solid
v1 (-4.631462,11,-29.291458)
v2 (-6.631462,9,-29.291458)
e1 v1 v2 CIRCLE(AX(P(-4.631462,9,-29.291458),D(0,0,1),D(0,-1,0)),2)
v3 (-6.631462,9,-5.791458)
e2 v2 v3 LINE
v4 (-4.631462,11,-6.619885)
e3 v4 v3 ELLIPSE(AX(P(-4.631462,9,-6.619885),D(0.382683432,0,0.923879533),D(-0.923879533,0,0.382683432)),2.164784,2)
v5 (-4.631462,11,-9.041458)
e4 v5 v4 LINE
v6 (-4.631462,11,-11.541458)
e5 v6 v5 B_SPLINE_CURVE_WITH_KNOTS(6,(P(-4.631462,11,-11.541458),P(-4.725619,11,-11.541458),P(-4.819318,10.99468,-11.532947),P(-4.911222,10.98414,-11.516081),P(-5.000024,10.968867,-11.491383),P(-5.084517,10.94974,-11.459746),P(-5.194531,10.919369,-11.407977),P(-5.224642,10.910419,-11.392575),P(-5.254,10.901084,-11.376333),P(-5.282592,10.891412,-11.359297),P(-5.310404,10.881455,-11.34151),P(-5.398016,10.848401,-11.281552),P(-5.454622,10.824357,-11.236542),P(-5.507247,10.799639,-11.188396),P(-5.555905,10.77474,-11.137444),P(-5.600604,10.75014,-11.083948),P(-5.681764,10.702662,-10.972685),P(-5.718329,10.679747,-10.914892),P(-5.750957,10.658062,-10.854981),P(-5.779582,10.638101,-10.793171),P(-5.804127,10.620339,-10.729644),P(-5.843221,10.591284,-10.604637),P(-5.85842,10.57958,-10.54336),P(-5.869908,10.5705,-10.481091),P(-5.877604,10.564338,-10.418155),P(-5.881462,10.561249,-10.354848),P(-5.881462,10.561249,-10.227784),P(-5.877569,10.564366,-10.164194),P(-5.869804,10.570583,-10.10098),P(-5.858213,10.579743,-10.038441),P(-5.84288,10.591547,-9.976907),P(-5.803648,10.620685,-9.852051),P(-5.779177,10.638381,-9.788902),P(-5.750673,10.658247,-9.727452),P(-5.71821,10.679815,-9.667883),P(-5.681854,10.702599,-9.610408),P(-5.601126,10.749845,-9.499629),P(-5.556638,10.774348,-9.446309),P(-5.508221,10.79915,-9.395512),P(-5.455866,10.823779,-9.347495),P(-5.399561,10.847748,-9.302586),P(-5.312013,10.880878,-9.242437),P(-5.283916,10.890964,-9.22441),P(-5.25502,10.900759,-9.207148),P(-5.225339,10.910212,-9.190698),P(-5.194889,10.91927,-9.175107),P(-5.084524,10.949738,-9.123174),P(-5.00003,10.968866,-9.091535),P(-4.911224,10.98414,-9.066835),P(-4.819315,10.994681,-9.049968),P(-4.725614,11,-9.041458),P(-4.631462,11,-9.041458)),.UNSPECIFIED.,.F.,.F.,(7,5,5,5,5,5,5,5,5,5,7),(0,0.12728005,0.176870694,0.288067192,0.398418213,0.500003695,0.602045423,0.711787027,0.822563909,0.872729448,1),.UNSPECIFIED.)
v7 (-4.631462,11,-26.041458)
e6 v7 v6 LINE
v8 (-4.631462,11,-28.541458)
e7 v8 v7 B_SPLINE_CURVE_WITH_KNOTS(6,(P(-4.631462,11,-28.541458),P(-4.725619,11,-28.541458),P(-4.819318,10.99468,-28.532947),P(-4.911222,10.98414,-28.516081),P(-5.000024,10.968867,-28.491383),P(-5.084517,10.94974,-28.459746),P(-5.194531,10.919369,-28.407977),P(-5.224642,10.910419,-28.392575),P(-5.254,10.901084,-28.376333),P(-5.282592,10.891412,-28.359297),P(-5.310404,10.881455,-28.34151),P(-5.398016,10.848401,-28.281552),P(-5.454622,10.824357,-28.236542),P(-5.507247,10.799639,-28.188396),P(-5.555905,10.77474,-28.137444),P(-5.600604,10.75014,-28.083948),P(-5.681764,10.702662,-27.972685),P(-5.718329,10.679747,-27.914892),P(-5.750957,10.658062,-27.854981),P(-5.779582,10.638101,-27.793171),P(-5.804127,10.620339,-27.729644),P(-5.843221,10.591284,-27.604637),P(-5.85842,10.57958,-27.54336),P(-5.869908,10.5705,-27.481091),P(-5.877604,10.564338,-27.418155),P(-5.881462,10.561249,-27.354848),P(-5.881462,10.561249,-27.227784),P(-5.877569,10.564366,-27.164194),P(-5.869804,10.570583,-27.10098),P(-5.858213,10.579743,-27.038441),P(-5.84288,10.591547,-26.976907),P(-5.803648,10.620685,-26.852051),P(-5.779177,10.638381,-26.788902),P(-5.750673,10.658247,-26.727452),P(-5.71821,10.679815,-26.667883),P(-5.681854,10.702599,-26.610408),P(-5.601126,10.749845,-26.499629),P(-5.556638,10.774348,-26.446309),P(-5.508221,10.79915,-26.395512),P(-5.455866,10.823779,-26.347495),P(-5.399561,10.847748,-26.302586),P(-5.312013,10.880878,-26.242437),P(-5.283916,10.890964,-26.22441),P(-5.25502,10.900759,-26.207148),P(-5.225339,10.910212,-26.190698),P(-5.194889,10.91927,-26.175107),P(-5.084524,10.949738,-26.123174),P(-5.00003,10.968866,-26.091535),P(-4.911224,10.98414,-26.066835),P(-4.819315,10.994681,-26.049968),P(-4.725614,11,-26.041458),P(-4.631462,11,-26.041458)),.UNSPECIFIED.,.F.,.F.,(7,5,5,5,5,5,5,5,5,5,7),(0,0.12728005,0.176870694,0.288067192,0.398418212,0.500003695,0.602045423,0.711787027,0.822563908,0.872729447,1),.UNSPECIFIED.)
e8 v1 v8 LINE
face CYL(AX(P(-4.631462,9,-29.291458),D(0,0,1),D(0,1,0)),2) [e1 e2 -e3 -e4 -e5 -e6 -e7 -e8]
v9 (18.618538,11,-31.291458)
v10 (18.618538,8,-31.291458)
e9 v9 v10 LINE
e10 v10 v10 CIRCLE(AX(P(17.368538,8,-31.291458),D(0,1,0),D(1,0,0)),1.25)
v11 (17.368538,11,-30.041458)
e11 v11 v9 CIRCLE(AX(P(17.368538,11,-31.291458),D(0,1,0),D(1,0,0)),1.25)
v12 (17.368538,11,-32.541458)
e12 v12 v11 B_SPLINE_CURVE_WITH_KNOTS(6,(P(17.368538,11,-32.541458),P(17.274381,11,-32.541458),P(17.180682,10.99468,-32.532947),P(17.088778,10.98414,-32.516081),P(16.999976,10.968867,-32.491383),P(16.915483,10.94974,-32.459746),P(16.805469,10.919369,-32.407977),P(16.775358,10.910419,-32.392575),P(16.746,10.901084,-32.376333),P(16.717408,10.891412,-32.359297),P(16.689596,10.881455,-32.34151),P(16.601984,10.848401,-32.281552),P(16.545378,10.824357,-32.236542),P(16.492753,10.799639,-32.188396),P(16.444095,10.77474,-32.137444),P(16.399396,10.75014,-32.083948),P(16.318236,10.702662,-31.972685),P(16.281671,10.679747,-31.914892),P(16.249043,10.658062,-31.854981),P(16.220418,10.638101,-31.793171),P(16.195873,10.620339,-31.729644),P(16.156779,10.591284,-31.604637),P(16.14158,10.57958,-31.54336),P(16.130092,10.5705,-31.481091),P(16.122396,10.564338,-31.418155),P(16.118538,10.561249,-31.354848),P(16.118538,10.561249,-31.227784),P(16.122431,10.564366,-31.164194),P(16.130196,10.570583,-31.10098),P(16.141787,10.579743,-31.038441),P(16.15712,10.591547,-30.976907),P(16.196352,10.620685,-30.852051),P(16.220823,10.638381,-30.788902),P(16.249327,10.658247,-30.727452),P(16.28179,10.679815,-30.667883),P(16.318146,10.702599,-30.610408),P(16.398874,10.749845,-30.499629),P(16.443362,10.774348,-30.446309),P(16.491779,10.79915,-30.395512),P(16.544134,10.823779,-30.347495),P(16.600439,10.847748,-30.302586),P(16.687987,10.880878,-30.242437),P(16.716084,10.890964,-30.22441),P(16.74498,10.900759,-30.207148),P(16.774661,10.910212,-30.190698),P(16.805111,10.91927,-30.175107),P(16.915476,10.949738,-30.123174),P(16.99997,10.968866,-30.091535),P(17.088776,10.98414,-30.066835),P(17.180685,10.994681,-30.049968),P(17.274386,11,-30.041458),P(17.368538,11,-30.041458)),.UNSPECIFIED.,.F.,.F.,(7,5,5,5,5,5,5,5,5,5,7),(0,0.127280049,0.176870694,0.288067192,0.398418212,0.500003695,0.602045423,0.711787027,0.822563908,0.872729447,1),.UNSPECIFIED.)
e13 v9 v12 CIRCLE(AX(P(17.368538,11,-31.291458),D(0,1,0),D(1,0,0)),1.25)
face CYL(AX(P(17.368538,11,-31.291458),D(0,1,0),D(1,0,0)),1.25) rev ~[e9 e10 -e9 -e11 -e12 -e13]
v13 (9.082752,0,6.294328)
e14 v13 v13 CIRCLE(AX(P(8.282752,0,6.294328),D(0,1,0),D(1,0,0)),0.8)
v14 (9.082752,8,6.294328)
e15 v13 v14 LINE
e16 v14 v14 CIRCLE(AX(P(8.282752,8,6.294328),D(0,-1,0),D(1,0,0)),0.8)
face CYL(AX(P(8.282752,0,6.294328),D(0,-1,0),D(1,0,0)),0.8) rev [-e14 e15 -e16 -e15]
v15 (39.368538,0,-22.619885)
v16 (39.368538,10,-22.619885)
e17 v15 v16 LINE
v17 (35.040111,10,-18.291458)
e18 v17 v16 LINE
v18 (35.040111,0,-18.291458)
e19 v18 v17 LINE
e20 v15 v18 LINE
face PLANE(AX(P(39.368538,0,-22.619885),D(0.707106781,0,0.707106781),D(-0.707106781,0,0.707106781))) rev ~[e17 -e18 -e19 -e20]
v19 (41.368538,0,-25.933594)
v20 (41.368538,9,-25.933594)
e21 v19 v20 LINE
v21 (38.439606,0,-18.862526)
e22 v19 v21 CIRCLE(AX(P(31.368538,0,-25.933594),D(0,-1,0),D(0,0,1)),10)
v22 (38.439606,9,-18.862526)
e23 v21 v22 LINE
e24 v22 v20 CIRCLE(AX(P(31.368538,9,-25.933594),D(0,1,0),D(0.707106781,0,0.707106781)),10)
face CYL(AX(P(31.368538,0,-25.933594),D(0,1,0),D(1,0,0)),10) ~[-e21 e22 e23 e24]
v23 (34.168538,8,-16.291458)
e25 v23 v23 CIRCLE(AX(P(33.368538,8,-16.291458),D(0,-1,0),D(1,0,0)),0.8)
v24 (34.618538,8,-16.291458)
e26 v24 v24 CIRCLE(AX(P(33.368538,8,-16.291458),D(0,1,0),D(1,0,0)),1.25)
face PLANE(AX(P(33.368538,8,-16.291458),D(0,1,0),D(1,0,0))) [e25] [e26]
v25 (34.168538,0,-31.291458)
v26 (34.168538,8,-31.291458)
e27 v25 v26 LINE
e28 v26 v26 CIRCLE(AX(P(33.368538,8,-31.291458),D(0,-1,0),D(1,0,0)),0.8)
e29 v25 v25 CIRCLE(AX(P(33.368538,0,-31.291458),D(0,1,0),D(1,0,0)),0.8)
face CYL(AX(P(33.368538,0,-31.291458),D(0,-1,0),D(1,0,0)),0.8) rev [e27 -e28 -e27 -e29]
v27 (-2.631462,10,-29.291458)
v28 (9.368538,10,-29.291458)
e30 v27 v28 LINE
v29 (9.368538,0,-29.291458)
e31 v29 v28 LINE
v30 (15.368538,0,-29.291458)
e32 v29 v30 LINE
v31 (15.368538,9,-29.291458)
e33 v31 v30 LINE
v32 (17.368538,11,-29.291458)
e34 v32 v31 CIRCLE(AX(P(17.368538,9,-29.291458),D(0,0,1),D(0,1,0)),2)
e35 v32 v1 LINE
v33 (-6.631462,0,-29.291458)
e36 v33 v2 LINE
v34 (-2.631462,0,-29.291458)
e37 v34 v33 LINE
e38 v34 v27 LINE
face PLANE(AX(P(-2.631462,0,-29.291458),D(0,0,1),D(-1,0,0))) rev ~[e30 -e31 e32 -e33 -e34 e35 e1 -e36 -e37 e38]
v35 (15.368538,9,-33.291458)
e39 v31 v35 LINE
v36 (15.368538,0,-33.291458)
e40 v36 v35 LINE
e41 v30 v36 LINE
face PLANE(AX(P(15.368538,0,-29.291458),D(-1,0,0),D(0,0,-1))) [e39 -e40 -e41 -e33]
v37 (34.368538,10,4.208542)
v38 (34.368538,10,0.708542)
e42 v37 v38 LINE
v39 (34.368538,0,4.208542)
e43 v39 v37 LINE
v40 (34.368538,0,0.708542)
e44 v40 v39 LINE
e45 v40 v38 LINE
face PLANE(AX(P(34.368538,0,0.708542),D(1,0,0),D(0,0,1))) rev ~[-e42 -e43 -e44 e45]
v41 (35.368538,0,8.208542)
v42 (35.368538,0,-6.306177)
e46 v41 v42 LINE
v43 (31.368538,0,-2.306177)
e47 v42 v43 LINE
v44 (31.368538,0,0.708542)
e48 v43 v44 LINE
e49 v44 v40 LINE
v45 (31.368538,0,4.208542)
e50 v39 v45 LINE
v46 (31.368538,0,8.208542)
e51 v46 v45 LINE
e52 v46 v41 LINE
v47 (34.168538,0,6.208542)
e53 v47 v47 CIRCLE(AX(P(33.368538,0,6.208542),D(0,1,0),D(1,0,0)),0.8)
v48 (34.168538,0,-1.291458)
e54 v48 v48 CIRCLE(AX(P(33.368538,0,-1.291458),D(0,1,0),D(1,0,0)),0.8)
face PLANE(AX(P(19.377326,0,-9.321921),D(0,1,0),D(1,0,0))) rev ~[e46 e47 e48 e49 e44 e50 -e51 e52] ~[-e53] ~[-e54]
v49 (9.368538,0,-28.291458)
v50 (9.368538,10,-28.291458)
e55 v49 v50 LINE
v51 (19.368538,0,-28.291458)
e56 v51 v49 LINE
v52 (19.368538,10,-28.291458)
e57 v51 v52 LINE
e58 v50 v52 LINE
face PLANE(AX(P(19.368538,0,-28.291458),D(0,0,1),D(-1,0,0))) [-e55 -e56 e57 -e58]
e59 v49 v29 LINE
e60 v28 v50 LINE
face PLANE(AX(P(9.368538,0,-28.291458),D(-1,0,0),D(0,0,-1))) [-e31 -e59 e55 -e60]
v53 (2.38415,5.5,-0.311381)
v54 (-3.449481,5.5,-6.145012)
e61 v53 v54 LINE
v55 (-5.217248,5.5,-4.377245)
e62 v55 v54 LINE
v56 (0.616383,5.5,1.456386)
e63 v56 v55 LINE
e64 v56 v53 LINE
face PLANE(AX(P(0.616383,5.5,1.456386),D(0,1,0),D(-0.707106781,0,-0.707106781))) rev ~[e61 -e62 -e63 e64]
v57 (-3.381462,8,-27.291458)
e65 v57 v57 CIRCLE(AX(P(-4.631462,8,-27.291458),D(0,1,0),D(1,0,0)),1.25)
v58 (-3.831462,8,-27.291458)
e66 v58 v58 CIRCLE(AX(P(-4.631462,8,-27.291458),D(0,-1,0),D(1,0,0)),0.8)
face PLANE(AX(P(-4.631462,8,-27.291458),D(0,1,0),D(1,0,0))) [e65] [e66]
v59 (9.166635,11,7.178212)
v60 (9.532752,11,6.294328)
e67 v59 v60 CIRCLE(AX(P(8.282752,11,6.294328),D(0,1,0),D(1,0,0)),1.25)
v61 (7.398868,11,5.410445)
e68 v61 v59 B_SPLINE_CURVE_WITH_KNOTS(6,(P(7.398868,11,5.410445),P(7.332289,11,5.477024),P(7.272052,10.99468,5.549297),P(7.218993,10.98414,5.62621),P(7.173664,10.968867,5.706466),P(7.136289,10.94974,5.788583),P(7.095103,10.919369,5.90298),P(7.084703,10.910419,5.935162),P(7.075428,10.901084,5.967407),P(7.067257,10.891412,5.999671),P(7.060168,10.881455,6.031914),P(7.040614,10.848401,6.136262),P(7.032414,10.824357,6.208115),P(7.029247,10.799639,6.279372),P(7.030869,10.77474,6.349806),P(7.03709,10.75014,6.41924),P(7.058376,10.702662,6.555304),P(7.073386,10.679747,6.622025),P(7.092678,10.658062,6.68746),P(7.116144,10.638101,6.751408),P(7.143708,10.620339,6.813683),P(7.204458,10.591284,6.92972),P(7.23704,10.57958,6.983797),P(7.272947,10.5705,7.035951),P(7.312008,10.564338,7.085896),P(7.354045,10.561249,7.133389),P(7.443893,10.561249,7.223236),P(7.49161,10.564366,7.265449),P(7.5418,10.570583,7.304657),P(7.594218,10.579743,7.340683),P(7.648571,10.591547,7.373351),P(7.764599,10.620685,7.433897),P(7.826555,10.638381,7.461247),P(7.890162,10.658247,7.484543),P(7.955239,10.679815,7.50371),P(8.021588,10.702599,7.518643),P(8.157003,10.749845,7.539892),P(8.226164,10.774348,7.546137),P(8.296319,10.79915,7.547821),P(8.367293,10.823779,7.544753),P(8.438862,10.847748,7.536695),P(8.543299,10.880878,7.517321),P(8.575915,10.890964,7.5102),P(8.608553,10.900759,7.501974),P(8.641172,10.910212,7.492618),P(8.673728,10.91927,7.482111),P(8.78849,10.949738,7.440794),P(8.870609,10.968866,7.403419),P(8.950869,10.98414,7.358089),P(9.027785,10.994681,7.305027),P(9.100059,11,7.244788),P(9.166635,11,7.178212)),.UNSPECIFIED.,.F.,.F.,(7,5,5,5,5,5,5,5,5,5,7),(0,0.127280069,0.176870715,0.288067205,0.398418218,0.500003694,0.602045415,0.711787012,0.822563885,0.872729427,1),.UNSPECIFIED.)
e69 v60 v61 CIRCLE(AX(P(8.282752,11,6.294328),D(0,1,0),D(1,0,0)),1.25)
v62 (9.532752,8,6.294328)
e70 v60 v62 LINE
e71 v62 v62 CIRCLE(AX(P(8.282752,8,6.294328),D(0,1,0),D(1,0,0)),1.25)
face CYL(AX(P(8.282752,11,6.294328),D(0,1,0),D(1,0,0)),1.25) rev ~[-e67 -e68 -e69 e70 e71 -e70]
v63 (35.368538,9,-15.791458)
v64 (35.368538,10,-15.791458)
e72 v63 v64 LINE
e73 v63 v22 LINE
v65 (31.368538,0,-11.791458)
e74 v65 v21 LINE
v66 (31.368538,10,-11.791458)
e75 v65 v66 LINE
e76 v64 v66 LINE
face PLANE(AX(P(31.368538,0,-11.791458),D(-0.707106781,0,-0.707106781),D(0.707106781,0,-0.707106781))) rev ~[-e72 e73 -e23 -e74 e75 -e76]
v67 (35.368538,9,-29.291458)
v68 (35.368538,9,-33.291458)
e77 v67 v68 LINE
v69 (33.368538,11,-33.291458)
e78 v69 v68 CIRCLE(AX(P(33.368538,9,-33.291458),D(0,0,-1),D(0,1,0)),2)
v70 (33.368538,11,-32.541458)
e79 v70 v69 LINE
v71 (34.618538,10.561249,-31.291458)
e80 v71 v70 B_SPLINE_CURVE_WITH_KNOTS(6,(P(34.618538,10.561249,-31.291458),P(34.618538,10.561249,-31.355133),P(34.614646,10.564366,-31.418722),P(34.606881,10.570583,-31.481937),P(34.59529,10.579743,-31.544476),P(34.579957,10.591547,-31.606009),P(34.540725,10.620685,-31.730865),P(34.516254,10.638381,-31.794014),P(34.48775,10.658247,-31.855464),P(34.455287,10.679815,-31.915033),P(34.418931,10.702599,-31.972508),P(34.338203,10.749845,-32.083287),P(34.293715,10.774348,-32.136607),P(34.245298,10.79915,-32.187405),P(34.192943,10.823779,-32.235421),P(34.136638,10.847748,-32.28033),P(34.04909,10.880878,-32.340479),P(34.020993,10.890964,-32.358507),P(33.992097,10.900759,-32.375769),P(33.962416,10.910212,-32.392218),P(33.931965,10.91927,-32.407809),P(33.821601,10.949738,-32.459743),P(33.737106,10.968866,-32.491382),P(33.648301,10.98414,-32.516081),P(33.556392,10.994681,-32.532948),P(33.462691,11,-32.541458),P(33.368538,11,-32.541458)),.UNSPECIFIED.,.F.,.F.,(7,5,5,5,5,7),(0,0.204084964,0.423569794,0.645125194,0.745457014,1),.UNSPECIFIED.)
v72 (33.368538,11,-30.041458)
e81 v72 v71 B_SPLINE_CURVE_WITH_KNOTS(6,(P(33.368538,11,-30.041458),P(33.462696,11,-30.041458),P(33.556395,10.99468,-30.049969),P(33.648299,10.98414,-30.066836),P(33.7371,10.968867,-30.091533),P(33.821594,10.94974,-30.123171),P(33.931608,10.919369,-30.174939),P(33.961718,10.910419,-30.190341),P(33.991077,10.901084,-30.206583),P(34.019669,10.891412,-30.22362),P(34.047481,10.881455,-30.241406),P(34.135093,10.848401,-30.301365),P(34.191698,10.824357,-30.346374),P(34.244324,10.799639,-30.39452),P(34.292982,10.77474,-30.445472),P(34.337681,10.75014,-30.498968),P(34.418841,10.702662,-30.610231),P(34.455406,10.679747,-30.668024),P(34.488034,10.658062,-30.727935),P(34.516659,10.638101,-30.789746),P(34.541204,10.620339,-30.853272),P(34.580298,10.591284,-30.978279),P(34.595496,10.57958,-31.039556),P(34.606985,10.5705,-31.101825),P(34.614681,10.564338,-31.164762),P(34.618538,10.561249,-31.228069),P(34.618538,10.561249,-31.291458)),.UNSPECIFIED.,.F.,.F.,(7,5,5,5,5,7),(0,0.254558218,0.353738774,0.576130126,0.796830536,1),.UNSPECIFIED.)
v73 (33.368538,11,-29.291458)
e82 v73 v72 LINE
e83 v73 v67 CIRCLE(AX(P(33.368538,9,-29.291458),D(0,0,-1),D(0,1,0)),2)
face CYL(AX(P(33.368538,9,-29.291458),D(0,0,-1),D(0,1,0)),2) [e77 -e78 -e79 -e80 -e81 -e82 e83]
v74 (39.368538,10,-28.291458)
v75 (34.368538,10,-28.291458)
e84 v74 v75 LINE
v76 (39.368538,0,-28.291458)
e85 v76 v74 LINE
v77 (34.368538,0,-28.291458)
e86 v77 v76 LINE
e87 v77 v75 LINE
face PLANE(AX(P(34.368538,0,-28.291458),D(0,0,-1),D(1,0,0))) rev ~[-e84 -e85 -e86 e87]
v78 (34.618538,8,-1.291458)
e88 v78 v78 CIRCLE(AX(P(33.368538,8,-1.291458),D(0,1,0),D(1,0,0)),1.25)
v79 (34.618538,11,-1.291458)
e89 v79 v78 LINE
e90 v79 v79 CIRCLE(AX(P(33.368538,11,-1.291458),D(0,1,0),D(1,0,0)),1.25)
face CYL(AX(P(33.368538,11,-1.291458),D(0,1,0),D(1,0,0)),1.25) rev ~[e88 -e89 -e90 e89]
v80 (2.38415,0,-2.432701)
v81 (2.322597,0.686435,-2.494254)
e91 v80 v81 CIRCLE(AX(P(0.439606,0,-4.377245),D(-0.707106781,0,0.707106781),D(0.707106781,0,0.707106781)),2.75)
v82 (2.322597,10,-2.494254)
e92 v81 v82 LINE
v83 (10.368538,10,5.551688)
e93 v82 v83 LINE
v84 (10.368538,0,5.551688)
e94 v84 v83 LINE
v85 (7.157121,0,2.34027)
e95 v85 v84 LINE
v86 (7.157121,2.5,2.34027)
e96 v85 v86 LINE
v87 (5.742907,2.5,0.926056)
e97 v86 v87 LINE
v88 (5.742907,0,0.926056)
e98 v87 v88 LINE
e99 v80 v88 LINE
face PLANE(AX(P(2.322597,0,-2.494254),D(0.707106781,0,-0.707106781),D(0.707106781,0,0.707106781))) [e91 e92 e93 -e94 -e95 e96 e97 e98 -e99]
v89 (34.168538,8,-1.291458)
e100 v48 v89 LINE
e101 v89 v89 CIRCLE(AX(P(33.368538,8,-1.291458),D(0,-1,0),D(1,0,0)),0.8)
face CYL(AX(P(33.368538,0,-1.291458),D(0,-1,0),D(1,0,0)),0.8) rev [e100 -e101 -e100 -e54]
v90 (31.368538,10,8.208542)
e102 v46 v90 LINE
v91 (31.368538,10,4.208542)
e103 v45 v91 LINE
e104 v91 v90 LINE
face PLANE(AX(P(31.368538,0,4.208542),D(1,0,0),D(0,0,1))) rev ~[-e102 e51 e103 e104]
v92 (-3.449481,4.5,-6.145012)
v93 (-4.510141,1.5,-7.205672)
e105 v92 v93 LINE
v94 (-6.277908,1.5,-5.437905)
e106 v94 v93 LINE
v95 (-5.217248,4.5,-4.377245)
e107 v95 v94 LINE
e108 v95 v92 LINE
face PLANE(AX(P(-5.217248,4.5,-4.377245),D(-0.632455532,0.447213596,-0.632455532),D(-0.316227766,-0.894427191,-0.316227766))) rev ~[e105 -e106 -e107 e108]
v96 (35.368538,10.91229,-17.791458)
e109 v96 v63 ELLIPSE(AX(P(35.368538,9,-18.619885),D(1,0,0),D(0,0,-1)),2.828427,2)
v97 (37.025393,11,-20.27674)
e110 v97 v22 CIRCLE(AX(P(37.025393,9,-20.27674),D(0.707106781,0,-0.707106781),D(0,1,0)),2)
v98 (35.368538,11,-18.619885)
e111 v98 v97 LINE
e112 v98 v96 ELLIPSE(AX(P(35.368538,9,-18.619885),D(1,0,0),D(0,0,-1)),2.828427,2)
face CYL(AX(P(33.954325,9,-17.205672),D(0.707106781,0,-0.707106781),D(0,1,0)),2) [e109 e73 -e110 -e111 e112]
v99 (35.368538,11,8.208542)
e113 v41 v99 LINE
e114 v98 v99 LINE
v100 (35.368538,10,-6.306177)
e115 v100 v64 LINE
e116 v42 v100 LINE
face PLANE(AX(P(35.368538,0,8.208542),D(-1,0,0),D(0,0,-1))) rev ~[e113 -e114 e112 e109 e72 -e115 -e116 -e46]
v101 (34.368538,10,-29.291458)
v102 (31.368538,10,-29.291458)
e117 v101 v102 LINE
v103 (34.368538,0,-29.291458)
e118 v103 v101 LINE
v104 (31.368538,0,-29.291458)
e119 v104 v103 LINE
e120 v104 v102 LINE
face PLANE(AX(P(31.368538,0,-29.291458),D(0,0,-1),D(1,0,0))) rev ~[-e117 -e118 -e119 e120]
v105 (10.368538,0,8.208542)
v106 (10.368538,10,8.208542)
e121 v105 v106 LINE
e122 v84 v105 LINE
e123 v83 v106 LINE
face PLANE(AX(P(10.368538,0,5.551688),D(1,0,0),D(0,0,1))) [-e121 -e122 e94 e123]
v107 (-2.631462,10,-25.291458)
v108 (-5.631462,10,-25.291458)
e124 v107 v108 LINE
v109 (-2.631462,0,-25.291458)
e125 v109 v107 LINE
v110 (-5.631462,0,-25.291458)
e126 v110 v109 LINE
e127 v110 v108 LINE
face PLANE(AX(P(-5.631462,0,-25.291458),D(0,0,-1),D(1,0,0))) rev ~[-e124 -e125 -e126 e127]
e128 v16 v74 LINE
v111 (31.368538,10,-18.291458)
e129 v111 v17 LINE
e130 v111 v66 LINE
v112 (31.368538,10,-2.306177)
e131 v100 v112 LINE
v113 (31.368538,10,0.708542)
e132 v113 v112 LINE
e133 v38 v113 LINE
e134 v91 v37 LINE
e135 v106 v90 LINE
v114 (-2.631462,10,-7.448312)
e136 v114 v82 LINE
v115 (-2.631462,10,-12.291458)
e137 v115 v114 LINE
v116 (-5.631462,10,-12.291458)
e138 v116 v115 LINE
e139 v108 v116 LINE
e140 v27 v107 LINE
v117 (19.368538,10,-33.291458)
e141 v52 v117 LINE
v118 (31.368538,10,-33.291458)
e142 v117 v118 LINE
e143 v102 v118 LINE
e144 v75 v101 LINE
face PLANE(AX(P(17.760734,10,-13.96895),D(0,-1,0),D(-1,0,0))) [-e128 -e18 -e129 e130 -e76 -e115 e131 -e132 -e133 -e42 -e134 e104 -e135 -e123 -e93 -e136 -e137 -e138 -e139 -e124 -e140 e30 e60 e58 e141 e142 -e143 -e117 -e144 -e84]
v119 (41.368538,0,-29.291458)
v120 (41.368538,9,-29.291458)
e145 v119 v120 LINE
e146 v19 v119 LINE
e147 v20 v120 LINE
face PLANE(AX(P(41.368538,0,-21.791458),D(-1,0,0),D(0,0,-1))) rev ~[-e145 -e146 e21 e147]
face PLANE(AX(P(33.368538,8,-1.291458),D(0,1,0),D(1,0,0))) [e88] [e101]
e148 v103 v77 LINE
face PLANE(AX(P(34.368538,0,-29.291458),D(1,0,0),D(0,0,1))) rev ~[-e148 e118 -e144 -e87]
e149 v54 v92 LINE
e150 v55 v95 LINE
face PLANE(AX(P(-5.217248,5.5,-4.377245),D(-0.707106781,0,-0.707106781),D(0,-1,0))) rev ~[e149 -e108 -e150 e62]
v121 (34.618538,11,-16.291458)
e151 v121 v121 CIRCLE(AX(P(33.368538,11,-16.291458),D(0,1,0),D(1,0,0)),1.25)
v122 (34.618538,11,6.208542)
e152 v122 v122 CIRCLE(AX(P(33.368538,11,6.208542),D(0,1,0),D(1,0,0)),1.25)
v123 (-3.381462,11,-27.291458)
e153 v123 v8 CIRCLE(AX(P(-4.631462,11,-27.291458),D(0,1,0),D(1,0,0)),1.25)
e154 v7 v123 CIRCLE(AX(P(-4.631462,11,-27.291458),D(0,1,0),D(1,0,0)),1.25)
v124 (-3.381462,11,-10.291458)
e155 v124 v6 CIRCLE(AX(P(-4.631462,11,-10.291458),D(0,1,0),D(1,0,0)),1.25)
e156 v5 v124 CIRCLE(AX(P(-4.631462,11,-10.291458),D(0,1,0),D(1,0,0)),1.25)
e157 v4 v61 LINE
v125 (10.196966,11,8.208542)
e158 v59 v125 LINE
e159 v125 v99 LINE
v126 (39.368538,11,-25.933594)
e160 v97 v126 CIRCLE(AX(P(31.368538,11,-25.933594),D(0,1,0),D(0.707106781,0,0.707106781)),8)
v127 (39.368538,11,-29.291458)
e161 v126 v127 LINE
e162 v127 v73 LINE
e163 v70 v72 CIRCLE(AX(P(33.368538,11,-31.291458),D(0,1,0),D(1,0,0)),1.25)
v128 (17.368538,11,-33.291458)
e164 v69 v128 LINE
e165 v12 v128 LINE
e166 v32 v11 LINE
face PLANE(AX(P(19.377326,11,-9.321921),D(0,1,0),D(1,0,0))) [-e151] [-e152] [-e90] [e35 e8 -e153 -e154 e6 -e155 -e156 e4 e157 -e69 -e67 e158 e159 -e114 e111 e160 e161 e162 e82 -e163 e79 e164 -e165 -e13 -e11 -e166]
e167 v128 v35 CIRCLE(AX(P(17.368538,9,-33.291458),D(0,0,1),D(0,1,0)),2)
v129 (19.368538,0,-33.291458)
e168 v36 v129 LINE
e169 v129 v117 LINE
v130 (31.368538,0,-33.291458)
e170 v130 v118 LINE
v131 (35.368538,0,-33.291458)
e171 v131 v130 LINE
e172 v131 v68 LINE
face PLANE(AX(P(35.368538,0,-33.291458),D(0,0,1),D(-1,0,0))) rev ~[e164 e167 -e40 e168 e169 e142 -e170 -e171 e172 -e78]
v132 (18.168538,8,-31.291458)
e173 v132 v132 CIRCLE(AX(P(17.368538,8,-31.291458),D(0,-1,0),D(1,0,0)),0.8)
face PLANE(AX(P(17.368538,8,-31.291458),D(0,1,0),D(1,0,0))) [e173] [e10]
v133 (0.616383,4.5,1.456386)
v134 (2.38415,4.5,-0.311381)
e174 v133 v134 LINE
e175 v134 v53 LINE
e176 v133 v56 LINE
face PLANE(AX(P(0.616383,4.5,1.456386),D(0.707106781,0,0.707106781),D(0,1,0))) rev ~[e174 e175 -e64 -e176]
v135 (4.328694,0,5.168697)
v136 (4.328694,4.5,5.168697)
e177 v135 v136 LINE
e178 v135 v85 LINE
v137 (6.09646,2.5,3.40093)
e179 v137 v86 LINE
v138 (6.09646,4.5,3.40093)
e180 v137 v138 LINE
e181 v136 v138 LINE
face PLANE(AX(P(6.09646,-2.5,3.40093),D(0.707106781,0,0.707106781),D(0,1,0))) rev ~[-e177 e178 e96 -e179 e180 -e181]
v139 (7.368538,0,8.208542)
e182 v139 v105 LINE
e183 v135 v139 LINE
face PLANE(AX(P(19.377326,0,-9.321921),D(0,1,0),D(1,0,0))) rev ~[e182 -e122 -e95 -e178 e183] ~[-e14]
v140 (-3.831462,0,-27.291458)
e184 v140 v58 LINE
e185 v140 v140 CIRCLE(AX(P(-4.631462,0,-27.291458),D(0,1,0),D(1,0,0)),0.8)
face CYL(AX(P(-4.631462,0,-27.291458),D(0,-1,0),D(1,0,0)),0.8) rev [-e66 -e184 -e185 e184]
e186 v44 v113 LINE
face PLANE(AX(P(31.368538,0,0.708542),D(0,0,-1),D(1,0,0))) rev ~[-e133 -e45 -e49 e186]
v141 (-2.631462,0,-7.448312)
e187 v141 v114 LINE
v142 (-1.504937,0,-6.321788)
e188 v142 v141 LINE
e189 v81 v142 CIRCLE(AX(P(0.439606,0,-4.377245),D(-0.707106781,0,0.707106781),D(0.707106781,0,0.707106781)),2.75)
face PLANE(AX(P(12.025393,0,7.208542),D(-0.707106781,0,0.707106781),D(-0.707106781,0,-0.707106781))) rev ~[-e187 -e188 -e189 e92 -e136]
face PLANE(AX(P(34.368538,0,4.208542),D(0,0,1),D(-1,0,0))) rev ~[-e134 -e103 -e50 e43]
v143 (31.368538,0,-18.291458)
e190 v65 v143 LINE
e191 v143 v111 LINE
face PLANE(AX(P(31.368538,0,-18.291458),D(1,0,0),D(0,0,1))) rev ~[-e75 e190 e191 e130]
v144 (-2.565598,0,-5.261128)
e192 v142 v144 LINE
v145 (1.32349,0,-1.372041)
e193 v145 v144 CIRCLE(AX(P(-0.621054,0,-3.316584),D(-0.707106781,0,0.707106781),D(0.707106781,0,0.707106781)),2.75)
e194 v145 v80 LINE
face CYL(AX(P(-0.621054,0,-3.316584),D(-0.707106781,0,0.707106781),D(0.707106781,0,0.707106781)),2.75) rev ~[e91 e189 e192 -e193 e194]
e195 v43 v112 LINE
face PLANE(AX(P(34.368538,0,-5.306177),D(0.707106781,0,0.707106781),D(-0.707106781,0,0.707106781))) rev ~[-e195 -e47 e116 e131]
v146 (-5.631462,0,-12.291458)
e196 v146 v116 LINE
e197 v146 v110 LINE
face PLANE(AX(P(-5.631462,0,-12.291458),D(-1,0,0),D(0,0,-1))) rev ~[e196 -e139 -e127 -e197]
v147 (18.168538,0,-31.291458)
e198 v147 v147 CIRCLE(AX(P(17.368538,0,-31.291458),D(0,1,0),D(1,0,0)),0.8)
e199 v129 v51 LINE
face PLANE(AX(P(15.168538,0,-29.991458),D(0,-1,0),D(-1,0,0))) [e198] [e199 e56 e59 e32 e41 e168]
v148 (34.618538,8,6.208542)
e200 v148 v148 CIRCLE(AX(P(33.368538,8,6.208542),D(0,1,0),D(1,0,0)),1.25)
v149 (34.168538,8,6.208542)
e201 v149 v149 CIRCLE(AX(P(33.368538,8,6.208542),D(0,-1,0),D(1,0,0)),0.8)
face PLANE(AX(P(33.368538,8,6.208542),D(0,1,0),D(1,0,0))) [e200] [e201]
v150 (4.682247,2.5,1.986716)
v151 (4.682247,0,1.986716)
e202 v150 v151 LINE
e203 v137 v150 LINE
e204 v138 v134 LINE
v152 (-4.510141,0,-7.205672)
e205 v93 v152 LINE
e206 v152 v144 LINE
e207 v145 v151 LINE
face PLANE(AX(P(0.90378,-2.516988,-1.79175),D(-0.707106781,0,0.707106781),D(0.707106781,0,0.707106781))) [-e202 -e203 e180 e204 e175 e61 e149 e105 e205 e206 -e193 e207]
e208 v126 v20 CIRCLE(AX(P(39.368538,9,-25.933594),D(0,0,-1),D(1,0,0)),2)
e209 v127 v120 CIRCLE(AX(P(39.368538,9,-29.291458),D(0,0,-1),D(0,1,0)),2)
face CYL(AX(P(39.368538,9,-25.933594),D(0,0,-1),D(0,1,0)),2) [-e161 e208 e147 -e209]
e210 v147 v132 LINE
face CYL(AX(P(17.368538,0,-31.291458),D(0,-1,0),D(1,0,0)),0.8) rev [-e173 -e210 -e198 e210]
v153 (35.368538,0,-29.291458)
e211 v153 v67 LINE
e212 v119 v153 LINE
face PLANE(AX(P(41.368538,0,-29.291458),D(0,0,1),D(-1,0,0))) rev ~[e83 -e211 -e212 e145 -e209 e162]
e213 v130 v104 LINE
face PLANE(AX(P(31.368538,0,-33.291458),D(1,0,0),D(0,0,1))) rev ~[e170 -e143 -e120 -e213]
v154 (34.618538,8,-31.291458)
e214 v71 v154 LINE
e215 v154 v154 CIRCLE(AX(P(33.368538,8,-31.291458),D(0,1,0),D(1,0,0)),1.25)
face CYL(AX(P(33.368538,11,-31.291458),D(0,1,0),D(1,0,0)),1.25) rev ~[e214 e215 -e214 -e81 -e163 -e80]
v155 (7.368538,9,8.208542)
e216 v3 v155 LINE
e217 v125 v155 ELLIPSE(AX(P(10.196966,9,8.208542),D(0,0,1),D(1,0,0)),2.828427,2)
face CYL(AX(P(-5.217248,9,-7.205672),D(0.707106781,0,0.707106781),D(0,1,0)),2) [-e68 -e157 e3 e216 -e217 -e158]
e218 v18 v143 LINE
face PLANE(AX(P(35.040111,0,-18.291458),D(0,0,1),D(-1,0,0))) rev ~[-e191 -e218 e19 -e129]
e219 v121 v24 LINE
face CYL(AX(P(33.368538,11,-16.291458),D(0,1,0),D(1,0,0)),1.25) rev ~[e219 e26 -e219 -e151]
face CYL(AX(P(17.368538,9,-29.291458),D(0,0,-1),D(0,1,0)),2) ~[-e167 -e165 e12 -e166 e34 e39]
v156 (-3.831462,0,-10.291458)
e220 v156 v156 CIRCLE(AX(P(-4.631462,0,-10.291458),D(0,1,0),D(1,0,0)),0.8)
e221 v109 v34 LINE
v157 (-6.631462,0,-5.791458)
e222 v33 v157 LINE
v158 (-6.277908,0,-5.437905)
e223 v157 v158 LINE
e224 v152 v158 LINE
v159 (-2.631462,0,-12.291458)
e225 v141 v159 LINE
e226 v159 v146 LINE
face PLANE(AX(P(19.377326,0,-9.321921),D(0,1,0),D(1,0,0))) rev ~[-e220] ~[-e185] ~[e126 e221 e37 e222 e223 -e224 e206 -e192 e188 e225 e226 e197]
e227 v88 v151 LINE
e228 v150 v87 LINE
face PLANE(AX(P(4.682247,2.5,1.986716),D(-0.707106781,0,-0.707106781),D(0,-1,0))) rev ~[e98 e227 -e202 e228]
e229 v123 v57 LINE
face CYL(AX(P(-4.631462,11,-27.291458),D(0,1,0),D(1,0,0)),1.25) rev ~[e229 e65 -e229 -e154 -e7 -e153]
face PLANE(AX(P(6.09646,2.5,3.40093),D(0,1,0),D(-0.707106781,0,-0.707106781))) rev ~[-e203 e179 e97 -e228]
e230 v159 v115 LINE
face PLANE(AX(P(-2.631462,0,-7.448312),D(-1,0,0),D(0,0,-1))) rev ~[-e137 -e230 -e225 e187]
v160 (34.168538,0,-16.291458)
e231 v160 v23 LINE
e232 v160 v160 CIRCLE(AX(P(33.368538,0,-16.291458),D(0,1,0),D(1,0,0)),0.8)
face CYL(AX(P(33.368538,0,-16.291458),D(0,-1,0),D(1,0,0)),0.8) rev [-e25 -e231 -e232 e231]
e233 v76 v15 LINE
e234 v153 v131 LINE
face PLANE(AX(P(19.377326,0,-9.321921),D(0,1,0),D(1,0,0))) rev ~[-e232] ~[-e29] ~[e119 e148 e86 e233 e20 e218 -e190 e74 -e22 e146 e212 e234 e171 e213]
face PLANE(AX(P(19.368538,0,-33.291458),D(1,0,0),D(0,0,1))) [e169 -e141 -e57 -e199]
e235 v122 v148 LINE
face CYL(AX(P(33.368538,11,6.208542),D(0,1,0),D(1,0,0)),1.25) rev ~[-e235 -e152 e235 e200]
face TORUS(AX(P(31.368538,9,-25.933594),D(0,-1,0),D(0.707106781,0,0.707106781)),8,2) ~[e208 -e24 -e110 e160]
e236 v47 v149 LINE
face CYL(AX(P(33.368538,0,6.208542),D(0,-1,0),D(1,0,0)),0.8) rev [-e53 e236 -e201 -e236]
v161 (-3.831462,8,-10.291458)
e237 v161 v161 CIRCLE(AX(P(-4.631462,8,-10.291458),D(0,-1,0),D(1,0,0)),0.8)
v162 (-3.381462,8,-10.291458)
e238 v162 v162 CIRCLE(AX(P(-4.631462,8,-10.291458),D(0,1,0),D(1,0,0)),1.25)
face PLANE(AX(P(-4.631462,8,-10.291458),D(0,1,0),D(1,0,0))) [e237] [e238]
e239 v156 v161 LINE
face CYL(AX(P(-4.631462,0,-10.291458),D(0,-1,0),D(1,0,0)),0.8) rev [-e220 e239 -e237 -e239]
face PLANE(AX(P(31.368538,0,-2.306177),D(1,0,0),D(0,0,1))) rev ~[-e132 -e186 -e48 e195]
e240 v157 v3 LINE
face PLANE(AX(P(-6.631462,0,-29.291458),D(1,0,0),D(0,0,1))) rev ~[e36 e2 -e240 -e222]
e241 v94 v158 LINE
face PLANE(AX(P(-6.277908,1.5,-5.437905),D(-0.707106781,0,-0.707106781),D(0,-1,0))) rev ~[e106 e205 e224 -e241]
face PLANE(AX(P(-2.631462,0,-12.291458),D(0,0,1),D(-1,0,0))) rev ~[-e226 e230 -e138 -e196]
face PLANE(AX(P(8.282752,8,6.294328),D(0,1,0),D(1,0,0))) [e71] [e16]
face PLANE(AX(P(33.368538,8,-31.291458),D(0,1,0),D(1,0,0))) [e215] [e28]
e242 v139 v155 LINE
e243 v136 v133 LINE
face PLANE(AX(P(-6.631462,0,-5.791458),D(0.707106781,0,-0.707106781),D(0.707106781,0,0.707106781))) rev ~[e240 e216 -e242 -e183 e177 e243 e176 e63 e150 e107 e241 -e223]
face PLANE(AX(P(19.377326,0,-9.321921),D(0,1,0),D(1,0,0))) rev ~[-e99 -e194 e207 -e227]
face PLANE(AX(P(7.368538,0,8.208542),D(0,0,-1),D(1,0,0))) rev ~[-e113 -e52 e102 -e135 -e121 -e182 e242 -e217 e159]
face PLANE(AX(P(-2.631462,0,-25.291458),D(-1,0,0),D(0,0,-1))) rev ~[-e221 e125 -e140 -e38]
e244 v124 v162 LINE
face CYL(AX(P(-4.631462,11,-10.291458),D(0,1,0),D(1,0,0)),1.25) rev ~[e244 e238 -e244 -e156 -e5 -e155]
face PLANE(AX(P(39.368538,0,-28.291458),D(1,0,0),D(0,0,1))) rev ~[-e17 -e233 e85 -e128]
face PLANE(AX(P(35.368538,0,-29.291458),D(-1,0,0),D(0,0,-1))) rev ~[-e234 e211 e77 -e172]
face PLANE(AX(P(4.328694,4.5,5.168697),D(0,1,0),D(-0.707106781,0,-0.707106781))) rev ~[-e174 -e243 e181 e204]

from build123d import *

# Parameters (mm, degrees)
BOSS_EXTRUDE2_DEPTH   = 11
BOSS_EXTRUDE2_2_DEPTH = 11
BOSS_EXTRUDE3_START   = 11
BOSS_EXTRUDE3_DEPTH   = 1
FILLET2_R             = 10
FILLET1_R             = 2
BOSS_EXTRUDE4_DEPTH   = 11
TUBE_HOLES_DEPTH      = 10
POT_INSERT_DEPTH      = 2.5
POT_START             = -2.5
SKETCH13_R            = 2.75
POT_HOLE_DEPTH        = 1.5
SKETCH7_R             = 0.8
SCREW_HOLES_DEPTH     = 12
SCREW_START           = 11
SKETCH12_R            = 1.25
SCREW_HEADS_DEPTH     = 3


with BuildPart() as part:
    # Sketch3 → Boss-Extrude2 (new body)
    with BuildSketch(Plane(origin=(0, 0, 0), x_dir=(1, 0, 0), z_dir=(0, 1, 0))):
        Polygon((-2.631461599, 29.291458176), (-6.631461599, 29.291458176), (-6.631461599, 5.791458176), (7.368538401, -8.208541824), (35.368538401, -8.208541824), (35.368538401, 15.791458176), (41.368538401, 21.791458176), (41.368538401, 29.291458179), (35.368538401, 29.291458179), (35.368538401, 33.291458176), (31.368538401, 33.291458176), (31.368538401, 29.291458176), (34.368538401, 29.291458176), (34.368538401, 28.291458176), (39.368538401, 28.291458176), (39.368538401, 22.619885301), (35.040111276, 18.291458176), (31.368538401, 18.291458176), (31.368538401, 11.791458176), (34.368538401, 14.791458176), (34.368538401, 5.306176806), (31.368538401, 2.306176806), (31.368538401, -0.708541824), (34.368538401, -0.708541824), (34.368538401, -4.208541824), (31.368538401, -4.208541824), (31.368538401, -7.208541824), (12.02539265, -7.208541824), (-2.631461599, 7.448312426), (-2.631461599, 12.291458176), (-5.631461599, 12.291458176), (-5.631461599, 25.291458176), (-2.631461599, 25.291458176), align=None)
    extrude(amount=BOSS_EXTRUDE2_DEPTH)



with BuildPart() as body_2:
    # Sketch3 → Boss-Extrude2 2 (new body)
    with BuildSketch(Plane(origin=(0, 0, 0), x_dir=(1, 0, 0), z_dir=(0, 1, 0))):
        Polygon((9.368538401, 29.291458176), (15.368538401, 29.291458176), (15.368538401, 33.291458176), (19.368538401, 33.291458176), (19.368538401, 28.291458176), (9.368538401, 28.291458176), align=None)
    extrude(amount=BOSS_EXTRUDE2_2_DEPTH)


with BuildPart() as part_1:
    add(part.part)

    add(body_2.part)  # Boss-Extrude3 merges body 2
    # Sketch5 → Boss-Extrude3 (add)
    with BuildSketch(Plane(origin=(0, 0, 0), x_dir=(1, 0, 0), z_dir=(0, 1, 0)).offset(BOSS_EXTRUDE3_START)):
        Polygon((-6.631461599, 29.291458176), (15.368538401, 29.291458176), (15.368538401, 33.291458176), (35.368538401, 33.291458176), (35.368538401, 29.291458179), (41.368538401, 29.291458179), (41.368538401, 21.791458176), (35.368538401, 15.791458176), (35.368538401, -8.208541824), (7.368538401, -8.208541824), (-6.631461599, 5.791458176), align=None)
    extrude(amount=-BOSS_EXTRUDE3_DEPTH)

    # Fillet2
    fillet2_edges = [part_1.edges().sort_by_distance(p)[0] for p in [
        (41.368538401, 5.5, -21.791458176),
    ]]
    fillet(fillet2_edges, radius=FILLET2_R)

    # Fillet1
    fillet1_edges = [part_1.edges().sort_by_distance(p)[0] for p in [
        (36.904072307, 11, -17.326992082),
        (41.368538401, 11, -27.61252599),
        (35.368538401, 11, -31.291458178),
        (15.368538401, 11, -31.291458176),
        (40.607333726, 11, -22.106759476),
        (-6.631461599, 11, -17.541458176),
        (0.368538401, 11, 1.208541824),
    ]]
    fillet(fillet1_edges, radius=FILLET1_R)

    # Sketch14 → Boss-Extrude4 (add)
    with BuildSketch(Plane(origin=(0, 0, 0), x_dir=(1, 0, 0), z_dir=(0, 1, 0))):
        Polygon((31.368538401, 11.791458176), (35.368538401, 15.791458176), (35.368538401, 17.791458176), (31.368538401, 13.791458176), align=None)
    extrude(amount=BOSS_EXTRUDE4_DEPTH)

    # Sketch10 → Tube Holes (cut)
    with BuildSketch(Plane(origin=(0, 0, 0), x_dir=(1, 0, 0), z_dir=(0, 1, 0))):
        Polygon((34.368538401, 5.306176806), (35.368538401, 6.306176806), (35.368538401, 15.791458176), (34.368538401, 14.791458176), align=None)
        Polygon((10.368538401, -5.551687574), (10.368538401, -8.208541824), (31.368538401, -8.208541824), (31.368538401, -3.516153668), (17.52539265, -3.516153668), (6.918790933, 7.09044805), (2.322596855, 2.494253972), align=None)
    extrude(amount=TUBE_HOLES_DEPTH, mode=Mode.SUBTRACT)

    # Sketch9 → Pot Insert (cut)
    with BuildSketch(Plane(origin=(-0.420001711, 0, 0.420001711), x_dir=(0.707106781, 0, 0.707106781), z_dir=(-0.707106781, 0, 0.707106781))):
        Polygon((-8.284330815, 0), (-8.284330815, -1.5), (-6.784330815, -4.5), (-6.784330815, -5.5), (-2.784330815, -5.5), (1.465669185, -5.5), (1.465669185, -4.5), (6.715669185, -4.5), (6.715669185, 0), align=None)
        Polygon((-8.284330815, 1.5), (-8.284330815, 0), (6.715669185, 0), (6.715669185, 4.5), (1.465669185, 4.5), (1.465669185, 5.5), (-2.784330815, 5.5), (-6.784330815, 5.5), (-6.784330815, 4.5), align=None)
    extrude(amount=-POT_INSERT_DEPTH, mode=Mode.SUBTRACT)

    # Sketch13 → Pot Hole (cut)
    with BuildSketch(Plane(origin=(-0.420001711, 0, 0.420001711), x_dir=(0.707106781, 0, 0.707106781), z_dir=(-0.707106781, 0, 0.707106781)).offset(POT_START)):
        with Locations((-2.784330815, 0)):
            Circle(SKETCH13_R)
        Polygon((6.715669185, 0), (6.715669185, 2.5), (4.715669185, 2.5), (4.715669185, -2.5), (6.715669185, -2.5), align=None)
    extrude(amount=-POT_HOLE_DEPTH, mode=Mode.SUBTRACT)

    # Sketch7 → Screw Holes (cut, through all)
    with BuildSketch(Plane(origin=(0, 0, 0), x_dir=(1, 0, 0), z_dir=(0, 1, 0))):
        with Locations((-4.631461599, 27.291458176)):
            Circle(SKETCH7_R)
        with Locations((17.368538401, 31.291458176)):
            Circle(SKETCH7_R)
        with Locations((33.368538401, 31.291458176)):
            Circle(SKETCH7_R)
        with Locations((-4.631461599, 10.291458176)):
            Circle(SKETCH7_R)
        with Locations((33.368538401, 16.291458176)):
            Circle(SKETCH7_R)
        with Locations((8.282751963, -6.294328261)):
            Circle(SKETCH7_R)
        with Locations((33.368538401, 1.291458176)):
            Circle(SKETCH7_R)
        with Locations((33.368538401, -6.208541824)):
            Circle(SKETCH7_R)
    extrude(amount=SCREW_HOLES_DEPTH, mode=Mode.SUBTRACT)

    # Sketch12 → Screw Heads (cut)
    with BuildSketch(Plane(origin=(0, 0, 0), x_dir=(1, 0, 0), z_dir=(0, 1, 0)).offset(SCREW_START)):
        with Locations((-4.631461599, 27.291458176)):
            Circle(SKETCH12_R)
        with Locations((17.368538401, 31.291458176)):
            Circle(SKETCH12_R)
        with Locations((33.368538401, 31.291458176)):
            Circle(SKETCH12_R)
        with Locations((-4.631461599, 10.291458176)):
            Circle(SKETCH12_R)
        with Locations((33.368538401, 16.291458176)):
            Circle(SKETCH12_R)
        with Locations((8.282751963, -6.294328261)):
            Circle(SKETCH12_R)
        with Locations((33.368538401, 1.291458176)):
            Circle(SKETCH12_R)
        with Locations((33.368538401, -6.208541824)):
            Circle(SKETCH12_R)
    extrude(amount=-SCREW_HEADS_DEPTH, mode=Mode.SUBTRACT)


solid = part_1.part
